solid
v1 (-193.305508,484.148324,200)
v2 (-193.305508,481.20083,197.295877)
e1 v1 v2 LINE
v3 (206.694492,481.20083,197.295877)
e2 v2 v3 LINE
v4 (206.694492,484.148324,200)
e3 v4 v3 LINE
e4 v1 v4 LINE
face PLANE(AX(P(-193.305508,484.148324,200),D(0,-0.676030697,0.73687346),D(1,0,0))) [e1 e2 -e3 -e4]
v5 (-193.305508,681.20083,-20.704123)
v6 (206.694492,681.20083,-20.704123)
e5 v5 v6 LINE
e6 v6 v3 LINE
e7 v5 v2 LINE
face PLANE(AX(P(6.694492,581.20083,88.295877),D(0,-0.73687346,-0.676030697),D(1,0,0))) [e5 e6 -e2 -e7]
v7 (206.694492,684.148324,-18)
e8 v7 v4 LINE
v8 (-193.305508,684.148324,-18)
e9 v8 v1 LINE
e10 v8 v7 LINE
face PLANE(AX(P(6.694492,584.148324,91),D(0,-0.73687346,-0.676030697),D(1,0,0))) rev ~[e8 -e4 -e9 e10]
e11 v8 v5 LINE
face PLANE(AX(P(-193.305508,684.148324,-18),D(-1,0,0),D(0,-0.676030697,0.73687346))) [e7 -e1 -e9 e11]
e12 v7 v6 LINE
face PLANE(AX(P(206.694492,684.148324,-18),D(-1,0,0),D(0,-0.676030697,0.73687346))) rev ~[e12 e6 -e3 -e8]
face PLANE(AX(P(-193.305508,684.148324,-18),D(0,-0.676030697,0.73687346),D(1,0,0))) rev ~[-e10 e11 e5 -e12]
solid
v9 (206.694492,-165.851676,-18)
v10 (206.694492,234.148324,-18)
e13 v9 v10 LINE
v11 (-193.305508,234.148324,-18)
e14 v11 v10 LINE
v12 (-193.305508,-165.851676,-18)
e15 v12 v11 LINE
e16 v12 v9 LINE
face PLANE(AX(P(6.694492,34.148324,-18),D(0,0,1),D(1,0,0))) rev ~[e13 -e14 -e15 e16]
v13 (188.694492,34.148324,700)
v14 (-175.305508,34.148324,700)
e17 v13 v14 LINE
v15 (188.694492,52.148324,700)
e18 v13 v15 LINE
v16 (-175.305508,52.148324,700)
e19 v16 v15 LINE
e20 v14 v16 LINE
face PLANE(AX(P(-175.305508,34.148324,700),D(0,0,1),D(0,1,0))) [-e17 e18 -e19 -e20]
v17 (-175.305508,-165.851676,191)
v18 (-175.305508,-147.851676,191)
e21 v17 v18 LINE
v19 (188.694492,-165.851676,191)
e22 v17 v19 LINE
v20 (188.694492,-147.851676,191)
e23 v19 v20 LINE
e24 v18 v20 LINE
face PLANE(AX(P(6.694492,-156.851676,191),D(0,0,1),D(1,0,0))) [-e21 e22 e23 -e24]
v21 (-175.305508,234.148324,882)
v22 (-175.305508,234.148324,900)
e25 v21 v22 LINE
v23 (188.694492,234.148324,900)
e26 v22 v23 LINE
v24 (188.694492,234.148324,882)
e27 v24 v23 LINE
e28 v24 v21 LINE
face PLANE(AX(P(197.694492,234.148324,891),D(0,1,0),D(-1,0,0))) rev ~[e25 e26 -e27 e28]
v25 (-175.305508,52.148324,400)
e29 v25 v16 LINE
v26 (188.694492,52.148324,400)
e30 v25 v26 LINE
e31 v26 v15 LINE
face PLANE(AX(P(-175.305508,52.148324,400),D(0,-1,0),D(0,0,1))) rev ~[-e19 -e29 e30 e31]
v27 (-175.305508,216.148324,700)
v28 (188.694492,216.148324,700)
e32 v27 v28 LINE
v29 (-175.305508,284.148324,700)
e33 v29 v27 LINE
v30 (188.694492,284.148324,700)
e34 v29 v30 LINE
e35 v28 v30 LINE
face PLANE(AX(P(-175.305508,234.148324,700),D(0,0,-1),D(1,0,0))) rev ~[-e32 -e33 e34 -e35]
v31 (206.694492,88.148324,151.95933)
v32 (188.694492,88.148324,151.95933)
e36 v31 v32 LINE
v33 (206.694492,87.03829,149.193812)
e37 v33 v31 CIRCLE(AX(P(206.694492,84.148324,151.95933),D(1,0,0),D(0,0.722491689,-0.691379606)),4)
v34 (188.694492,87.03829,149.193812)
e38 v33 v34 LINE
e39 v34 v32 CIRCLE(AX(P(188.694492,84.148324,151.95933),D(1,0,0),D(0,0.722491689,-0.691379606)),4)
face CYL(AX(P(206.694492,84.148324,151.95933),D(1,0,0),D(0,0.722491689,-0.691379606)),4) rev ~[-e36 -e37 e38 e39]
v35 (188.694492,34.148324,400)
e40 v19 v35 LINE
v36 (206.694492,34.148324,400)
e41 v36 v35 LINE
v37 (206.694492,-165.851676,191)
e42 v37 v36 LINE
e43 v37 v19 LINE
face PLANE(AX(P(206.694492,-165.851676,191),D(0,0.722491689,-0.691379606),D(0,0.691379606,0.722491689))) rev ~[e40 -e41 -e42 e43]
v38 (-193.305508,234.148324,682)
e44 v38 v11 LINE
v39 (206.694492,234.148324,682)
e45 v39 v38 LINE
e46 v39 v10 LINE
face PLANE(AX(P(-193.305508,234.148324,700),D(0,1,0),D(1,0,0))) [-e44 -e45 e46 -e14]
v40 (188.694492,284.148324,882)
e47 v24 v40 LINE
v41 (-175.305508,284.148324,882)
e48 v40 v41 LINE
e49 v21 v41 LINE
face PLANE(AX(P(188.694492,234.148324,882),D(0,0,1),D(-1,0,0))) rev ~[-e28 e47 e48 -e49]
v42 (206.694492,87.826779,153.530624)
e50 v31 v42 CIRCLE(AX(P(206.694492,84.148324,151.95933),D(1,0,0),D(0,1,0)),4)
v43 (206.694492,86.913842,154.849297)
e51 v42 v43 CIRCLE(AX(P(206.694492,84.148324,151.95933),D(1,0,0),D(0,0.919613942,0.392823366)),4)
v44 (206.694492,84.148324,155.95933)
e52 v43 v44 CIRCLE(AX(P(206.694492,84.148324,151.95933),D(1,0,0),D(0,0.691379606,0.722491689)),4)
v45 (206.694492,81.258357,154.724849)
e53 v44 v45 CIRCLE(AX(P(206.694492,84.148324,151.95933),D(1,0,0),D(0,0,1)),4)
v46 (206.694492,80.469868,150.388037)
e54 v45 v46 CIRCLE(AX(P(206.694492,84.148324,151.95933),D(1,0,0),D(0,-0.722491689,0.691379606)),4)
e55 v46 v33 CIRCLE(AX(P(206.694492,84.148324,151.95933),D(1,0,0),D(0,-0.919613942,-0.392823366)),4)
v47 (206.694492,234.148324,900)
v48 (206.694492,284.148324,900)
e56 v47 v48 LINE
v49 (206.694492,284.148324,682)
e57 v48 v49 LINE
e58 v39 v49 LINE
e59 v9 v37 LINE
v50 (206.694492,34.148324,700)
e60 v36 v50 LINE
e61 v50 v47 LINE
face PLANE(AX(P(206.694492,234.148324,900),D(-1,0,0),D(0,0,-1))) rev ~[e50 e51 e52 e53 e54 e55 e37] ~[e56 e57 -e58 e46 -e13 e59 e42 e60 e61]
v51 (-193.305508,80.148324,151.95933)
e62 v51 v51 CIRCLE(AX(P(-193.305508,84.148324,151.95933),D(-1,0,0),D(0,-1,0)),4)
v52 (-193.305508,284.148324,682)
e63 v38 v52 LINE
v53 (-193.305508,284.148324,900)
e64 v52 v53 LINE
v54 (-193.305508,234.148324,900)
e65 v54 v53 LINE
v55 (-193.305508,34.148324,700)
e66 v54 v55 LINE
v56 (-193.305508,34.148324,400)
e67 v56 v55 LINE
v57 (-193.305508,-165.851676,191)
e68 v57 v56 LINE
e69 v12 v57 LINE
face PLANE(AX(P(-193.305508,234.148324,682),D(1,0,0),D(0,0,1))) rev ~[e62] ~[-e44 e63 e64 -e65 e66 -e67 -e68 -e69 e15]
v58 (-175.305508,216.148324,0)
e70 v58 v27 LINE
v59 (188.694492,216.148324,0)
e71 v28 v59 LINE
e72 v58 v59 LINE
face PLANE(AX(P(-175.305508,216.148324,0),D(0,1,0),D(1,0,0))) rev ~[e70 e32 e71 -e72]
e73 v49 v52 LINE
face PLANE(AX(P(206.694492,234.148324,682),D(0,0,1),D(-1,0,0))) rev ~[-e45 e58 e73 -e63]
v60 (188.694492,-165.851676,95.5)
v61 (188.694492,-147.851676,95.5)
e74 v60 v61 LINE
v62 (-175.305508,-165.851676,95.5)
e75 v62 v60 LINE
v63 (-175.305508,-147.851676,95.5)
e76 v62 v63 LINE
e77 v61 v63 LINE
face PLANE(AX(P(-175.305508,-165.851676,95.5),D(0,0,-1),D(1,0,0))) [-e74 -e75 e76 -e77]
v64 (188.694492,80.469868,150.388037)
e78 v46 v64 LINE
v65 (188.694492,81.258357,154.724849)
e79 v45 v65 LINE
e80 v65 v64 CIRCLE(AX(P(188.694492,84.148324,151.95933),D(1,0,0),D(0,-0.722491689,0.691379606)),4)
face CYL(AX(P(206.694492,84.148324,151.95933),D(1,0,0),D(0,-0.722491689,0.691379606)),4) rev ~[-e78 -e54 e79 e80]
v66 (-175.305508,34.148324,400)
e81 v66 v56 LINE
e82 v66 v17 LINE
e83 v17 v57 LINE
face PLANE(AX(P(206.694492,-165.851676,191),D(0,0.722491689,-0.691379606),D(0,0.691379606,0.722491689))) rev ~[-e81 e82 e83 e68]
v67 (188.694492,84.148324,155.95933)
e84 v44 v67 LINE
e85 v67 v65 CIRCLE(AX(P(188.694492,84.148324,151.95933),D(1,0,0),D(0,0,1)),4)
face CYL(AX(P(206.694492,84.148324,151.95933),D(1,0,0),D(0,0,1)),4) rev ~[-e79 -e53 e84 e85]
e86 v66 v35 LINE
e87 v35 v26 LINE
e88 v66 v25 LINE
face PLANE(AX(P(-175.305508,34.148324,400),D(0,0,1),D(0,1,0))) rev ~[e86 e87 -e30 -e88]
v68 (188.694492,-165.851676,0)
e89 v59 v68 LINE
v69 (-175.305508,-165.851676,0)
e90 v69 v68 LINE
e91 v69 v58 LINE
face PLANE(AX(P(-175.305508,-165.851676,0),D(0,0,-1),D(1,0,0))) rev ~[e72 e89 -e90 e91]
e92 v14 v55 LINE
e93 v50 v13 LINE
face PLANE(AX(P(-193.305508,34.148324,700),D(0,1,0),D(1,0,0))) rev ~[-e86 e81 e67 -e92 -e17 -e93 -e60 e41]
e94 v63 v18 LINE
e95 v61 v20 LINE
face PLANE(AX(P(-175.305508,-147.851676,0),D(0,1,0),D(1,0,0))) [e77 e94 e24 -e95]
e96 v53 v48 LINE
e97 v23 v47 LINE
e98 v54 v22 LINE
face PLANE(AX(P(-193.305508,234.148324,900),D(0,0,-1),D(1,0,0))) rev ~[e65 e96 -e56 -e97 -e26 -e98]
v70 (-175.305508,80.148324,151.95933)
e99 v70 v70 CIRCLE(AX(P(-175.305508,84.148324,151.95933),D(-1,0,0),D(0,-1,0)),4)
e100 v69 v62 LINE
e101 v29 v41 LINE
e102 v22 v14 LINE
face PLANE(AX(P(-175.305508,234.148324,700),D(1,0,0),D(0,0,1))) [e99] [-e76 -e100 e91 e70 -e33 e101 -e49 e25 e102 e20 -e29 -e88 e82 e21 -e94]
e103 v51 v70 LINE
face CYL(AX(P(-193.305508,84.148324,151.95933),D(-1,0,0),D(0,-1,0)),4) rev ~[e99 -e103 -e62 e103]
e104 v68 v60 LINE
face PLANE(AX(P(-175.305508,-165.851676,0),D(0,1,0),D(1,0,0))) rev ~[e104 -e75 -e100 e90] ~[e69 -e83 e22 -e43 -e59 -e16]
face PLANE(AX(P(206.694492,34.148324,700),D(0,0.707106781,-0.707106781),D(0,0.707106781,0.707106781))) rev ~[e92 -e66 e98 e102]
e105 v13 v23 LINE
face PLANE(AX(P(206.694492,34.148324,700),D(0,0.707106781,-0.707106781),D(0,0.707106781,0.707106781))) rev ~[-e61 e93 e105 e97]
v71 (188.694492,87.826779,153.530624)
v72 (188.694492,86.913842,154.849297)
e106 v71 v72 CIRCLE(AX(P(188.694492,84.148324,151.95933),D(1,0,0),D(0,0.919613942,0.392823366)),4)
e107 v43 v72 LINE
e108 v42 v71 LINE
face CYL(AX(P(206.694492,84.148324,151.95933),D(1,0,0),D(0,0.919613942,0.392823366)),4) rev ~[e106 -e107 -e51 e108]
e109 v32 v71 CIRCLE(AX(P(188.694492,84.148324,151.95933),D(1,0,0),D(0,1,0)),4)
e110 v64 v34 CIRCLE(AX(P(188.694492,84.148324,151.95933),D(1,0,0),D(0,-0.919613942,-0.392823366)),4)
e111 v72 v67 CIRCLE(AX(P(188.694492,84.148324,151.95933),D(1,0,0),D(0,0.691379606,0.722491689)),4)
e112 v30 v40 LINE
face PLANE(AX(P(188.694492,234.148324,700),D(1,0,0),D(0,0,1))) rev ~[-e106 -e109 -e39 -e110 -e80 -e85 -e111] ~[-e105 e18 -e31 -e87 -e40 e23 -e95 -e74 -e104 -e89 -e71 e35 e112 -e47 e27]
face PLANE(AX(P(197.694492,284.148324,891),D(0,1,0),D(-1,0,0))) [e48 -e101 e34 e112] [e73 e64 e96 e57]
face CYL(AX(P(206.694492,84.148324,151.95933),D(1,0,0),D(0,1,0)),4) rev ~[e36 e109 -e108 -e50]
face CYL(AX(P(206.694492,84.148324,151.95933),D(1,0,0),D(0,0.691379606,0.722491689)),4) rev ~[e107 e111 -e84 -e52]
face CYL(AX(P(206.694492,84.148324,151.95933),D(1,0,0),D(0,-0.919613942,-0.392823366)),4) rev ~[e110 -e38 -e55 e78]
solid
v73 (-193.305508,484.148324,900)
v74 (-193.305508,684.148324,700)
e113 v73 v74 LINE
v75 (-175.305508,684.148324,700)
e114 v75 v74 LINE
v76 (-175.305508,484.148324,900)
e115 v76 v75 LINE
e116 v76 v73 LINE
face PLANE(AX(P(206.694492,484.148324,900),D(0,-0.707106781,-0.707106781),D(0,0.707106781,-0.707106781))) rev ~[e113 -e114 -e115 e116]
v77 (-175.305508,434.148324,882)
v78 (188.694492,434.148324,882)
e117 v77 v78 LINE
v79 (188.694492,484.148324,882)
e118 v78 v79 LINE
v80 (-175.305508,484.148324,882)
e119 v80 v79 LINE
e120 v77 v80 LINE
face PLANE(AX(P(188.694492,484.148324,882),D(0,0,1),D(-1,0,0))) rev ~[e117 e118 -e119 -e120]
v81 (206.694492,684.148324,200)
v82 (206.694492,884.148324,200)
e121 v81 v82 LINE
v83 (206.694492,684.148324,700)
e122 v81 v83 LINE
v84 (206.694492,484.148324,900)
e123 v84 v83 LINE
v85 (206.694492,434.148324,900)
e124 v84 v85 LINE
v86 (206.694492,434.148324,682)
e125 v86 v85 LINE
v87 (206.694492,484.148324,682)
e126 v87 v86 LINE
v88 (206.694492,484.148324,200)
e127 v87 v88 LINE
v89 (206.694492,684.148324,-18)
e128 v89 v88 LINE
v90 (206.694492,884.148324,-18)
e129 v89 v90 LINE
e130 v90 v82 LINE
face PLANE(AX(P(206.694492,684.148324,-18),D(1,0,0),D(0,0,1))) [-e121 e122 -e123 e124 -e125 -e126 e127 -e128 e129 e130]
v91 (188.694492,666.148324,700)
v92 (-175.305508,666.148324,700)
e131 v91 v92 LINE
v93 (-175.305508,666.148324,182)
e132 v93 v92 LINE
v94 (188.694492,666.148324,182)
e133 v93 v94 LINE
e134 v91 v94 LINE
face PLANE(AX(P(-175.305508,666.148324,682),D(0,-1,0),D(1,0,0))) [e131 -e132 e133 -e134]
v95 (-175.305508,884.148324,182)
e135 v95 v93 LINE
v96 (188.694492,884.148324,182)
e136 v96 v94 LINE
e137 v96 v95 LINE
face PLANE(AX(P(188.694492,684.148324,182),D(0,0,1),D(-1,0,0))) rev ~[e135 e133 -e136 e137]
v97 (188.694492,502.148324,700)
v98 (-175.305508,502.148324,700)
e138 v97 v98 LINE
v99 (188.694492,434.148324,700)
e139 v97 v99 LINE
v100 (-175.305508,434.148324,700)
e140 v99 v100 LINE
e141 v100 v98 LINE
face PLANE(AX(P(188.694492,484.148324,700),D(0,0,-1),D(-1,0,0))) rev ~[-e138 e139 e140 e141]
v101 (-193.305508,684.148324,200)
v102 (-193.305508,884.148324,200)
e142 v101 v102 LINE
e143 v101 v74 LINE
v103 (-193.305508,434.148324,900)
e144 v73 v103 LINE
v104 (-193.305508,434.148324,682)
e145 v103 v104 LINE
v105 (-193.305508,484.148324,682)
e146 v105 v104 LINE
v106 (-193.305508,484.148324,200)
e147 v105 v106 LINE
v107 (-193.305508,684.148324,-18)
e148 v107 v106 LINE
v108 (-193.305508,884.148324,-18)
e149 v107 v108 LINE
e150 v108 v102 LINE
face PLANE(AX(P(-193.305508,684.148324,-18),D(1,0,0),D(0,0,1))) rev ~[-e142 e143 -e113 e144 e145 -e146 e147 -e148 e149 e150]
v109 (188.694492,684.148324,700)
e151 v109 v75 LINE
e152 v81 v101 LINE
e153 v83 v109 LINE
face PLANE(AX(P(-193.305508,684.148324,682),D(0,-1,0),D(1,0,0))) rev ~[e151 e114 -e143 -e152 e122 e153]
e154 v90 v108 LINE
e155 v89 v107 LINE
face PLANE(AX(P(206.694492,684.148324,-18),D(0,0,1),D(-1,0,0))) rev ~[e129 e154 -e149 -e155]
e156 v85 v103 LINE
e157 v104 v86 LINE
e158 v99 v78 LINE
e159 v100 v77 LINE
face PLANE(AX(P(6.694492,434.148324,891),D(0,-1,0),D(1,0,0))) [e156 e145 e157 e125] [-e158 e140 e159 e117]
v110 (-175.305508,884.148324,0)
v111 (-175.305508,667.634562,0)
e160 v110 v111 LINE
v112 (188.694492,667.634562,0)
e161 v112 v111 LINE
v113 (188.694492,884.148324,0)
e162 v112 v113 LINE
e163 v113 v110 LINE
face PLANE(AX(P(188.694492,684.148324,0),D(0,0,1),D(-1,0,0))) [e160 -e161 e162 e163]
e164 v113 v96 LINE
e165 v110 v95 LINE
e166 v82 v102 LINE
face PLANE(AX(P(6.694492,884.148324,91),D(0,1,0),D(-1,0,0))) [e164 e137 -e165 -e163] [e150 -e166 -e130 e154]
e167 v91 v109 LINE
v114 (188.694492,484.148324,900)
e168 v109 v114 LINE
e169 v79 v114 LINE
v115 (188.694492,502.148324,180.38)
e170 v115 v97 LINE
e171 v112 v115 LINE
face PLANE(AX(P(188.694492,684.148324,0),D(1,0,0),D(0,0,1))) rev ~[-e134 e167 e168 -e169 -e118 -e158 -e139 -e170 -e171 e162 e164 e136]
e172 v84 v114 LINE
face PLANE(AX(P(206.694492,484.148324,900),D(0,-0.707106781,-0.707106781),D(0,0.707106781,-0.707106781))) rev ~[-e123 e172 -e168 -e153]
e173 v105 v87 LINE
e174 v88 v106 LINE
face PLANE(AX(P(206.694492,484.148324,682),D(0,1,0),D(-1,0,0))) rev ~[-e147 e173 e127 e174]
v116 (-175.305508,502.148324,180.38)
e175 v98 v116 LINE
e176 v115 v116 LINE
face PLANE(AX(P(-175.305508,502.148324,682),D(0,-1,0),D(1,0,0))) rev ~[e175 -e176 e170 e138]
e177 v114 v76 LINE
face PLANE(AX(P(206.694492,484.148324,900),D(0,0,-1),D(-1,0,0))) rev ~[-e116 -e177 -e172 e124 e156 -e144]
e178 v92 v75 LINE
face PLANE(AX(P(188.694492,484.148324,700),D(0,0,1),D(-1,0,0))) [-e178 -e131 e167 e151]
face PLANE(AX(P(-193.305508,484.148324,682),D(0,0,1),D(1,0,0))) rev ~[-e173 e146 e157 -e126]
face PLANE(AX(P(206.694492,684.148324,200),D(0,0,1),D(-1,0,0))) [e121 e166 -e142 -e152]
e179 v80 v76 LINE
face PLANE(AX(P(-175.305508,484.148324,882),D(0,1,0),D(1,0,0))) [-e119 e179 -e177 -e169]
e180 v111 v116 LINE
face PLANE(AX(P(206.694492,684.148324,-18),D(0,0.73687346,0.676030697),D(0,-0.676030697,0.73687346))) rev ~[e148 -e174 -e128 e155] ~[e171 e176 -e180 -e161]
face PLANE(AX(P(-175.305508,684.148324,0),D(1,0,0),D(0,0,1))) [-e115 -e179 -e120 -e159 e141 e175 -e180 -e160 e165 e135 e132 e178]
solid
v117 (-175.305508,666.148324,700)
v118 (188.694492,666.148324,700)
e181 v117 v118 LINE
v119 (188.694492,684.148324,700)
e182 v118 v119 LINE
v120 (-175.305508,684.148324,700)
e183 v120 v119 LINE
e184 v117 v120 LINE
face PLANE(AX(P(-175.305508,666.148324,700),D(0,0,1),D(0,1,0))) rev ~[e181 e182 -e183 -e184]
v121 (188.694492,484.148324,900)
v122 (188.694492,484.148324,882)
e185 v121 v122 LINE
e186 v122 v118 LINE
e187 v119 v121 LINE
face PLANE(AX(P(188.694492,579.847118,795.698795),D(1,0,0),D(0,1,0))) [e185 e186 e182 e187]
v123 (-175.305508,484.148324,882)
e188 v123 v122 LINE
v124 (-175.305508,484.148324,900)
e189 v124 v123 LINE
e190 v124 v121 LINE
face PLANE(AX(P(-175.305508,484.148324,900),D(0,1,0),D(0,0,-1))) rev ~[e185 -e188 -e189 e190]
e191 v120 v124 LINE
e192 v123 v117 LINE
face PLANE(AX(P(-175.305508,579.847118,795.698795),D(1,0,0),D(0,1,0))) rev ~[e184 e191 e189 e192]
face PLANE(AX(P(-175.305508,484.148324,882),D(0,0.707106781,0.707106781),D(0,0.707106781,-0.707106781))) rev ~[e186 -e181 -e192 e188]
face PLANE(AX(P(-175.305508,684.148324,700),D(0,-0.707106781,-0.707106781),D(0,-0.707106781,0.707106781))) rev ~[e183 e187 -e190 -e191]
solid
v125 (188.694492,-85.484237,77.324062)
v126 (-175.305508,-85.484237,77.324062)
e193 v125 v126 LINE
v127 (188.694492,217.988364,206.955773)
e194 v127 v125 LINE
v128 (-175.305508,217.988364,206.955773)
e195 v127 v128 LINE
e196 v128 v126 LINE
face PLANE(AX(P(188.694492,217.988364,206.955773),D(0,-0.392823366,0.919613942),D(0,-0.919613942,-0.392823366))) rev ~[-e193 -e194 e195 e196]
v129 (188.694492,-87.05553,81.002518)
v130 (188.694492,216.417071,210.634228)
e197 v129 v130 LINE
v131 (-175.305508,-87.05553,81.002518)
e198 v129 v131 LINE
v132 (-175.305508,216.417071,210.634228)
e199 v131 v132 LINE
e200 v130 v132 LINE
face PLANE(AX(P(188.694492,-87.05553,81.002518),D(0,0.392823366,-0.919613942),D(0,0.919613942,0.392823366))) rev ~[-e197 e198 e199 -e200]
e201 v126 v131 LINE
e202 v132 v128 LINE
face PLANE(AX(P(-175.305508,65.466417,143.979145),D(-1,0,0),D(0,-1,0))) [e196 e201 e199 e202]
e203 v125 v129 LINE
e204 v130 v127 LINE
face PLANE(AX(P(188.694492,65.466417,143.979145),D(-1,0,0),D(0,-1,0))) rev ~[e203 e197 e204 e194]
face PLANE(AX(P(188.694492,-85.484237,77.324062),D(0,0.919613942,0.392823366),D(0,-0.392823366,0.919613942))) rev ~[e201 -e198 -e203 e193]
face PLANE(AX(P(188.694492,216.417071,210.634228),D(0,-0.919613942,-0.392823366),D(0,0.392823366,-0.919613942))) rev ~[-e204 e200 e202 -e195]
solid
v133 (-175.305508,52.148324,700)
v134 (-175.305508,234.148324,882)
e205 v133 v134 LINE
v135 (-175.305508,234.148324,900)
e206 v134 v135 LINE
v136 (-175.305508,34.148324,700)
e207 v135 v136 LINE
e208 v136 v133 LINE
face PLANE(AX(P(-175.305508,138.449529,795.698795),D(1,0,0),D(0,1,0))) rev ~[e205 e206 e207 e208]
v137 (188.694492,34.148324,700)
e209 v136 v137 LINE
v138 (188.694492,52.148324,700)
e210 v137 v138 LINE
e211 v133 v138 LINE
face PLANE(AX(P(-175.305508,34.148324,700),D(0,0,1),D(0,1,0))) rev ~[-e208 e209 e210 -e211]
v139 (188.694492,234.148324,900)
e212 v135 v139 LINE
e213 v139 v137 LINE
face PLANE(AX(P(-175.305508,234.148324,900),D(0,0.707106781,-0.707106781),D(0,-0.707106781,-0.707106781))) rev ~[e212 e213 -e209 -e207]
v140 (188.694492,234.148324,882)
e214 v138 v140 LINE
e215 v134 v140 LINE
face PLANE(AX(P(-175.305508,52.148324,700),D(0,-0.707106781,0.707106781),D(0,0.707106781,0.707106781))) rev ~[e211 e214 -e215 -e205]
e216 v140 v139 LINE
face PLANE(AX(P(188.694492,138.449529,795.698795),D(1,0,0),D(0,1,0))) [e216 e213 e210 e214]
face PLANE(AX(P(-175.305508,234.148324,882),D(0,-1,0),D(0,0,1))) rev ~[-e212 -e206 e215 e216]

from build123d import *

# Parameters (mm, degrees)
F0_W      = 400
F0_H      = 400
F1_DEPTH  = 18
F3_DEPTH  = 400
F2_W      = 364
F2_H      = 18
F4_DEPTH  = 700
F6_DEPTH  = 191
F7_W      = 364
F7_H      = 95.5
F8_DEPTH  = 25
F9_DEPTH  = 400.001
F10_DEPTH = 300
F11_DEPTH = 300
F12_W     = 18
F12_H     = 300
F13_DEPTH = 364
F16_DEPTH = 364
F17_DEPTH = 18
F18_R     = 4
F19_DEPTH = 18
F20_W     = 18
F20_H     = 200
F21_DEPTH = 200
F23_DEPTH = 400.001
F24_W     = 18
F24_H     = 18
F24_W_2   = 364
F24_H_2   = 182
F25_DEPTH = 50
F27_W     = 400
F27_H     = 218
F27_W_2   = 364
F27_H_2   = 182
F28_DEPTH = 200
F29_W     = 364
F29_H     = 18
F30_DEPTH = 700
F31_DEPTH = 25
F33_DEPTH = 400.001
F35_DEPTH = 364
F36_W     = 18
F36_H     = 182
F37_DEPTH = 50
F38_W     = 364
F38_H     = 18
F39_DEPTH = 25
F41_DEPTH = 364
F42_W     = 364
F42_H     = 182
F43_DEPTH = 25
F42_W_2   = 400
F42_H_2   = 218
F44_DEPTH = 200
F46_DEPTH = 400.001
F47_W     = 400
F47_H     = 295.8445537778
F48_DEPTH = 4


with BuildPart() as f1:
    # F0 (on Top) → F1 (new body)
    with BuildSketch(Plane.XY):
        with Locations((6.6944919527, 34.1483235822)):
            Rectangle(F0_W, F0_H)
    extrude(amount=-F1_DEPTH)

    # F2 (on face) → F3 (join)
    with BuildSketch(Plane.XY):
        Polygon((-175.3055080473, 216.1483235822), (-175.3055080473, 234.1483235822), (-193.3055080473, 234.1483235822), (-193.3055080473, -165.8516764178), (-175.3055080473, -165.8516764178), (-175.3055080473, -147.8516764178), align=None)
        Polygon((206.6944919527, -165.8516764178), (206.6944919527, 234.1483235822), (188.6944919527, 234.1483235822), (188.6944919527, 216.1483235822), (188.6944919527, -147.8516764178), (188.6944919527, -165.8516764178), align=None)
    extrude(amount=F3_DEPTH)

    # F2 (on face) → F4 (join)
    with BuildSketch(Plane.XY):
        with Locations((6.6944919527, 225.1483235822)):
            Rectangle(F2_W, F2_H)
    extrude(amount=F4_DEPTH)

    # F2 (on face) → F6 (join)
    with BuildSketch(Plane.XY):
        with Locations((6.6944919527, -156.8516764178)):
            Rectangle(F2_W, F2_H)
    extrude(amount=F6_DEPTH)

    # F7 (on face) → F8 (cut)
    with BuildSketch(Plane.XZ.offset(165.8516764178)):
        with Locations((6.6944919527, 47.75)):
            Rectangle(F7_W, F7_H)
    extrude(amount=-F8_DEPTH, mode=Mode.SUBTRACT)

    # F5 (on face) → F9 (cut, through all)
    with BuildSketch(Plane.YZ.offset(206.6944919527)):
        Polygon((-165.8516764178, 400), (-165.8516764178, 191), (34.1483235822, 400), align=None)
    extrude(amount=-F9_DEPTH, mode=Mode.SUBTRACT)

    # F10 (add): a face of the model
    f10_faces = [f1.faces().sort_by_distance(p)[0] for p in [
        (-184.3055080473, 134.1483235822, 400),
    ]]
    extrude(f10_faces, amount=F10_DEPTH)

    # F11 (add): a face of the model
    f11_faces = [f1.faces().sort_by_distance(p)[0] for p in [
        (197.6944919527, 134.1483235822, 400),
    ]]
    extrude(f11_faces, amount=F11_DEPTH)

    # F12 (on face) → F13 (join, through all)
    with BuildSketch(Plane.YZ.offset(-175.3055080473)):
        with Locations((43.1483235822, 550)):
            Rectangle(F12_W, F12_H)
    extrude(amount=F13_DEPTH)

    # F14 (on face) → F17 (cut)
    with BuildSketch(Plane.YZ.offset(206.6944919527)):
        with BuildLine():
            Line((87.0382903364, 149.1938117185), (84.1483235822, 151.9593301435))
            Line((84.1483235822, 151.9593301435), (80.4698678124, 150.3880366796))
            ThreePointArc((80.4698678124, 150.3880366796), (83.4328013629, 148.0238469517), (87.0382903364, 149.1938117185))
        make_face()
        with BuildLine():
            Line((84.1483235822, 151.9593301435), (81.258356828, 154.7248485686))
            ThreePointArc((81.258356828, 154.7248485686), (80.2128403903, 152.6748523629), (80.4698678124, 150.3880366796))
            Line((80.4698678124, 150.3880366796), (84.1483235822, 151.9593301435))
        make_face()
        with BuildLine():
            ThreePointArc((84.1483235822, 155.9593301435), (82.5770301183, 155.6377859133), (81.258356828, 154.7248485686))
            Line((81.258356828, 154.7248485686), (84.1483235822, 151.9593301435))
            Line((84.1483235822, 151.9593301435), (84.1483235822, 155.9593301435))
        make_face()
        with BuildLine():
            Line((84.1483235822, 155.9593301435), (84.1483235822, 151.9593301435))
            Line((84.1483235822, 151.9593301435), (86.9138420073, 154.8492968978))
            ThreePointArc((86.9138420073, 154.8492968978), (85.6383123377, 155.6714634262), (84.1483235822, 155.9593301435))
        make_face()
        with BuildLine():
            Line((86.9138420073, 154.8492968978), (84.1483235822, 151.9593301435))
            Line((84.1483235822, 151.9593301435), (87.826779352, 153.5306236075))
            ThreePointArc((87.826779352, 153.5306236075), (87.4370810478, 154.2361863824), (86.9138420073, 154.8492968978))
        make_face()
        with BuildLine():
            Line((87.826779352, 153.5306236075), (84.1483235822, 151.9593301435))
            Line((84.1483235822, 151.9593301435), (88.1483235822, 151.9593301435))
            ThreePointArc((88.1483235822, 151.9593301435), (88.0671131325, 152.7612581082), (87.826779352, 153.5306236075))
        make_face()
        with BuildLine():
            Line((88.1483235822, 151.9593301435), (84.1483235822, 151.9593301435))
            Line((84.1483235822, 151.9593301435), (87.0382903364, 149.1938117185))
            ThreePointArc((87.0382903364, 149.1938117185), (87.8604568649, 150.469341388), (88.1483235822, 151.9593301435))
        make_face()
    extrude(amount=-F17_DEPTH, mode=Mode.SUBTRACT)

    # F18 (on face) → F19 (cut)
    with BuildSketch(Plane(origin=(-193.3055080473, 0, 0), x_dir=(0, -1, 0), z_dir=(-1, 0, 0))):
        with Locations((-84.1483235822, 151.9593301435)):
            Circle(F18_R)
    extrude(amount=-F19_DEPTH, mode=Mode.SUBTRACT)

    # F20 (on face) → F21 (join)
    with BuildSketch(Plane.XY.offset(700)):
        with Locations((-184.3055080473, 134.1483235822)):
            Rectangle(F20_W, F20_H)
        with Locations((197.6944919527, 134.1483235822)):
            Rectangle(F20_W, F20_H)
    extrude(amount=F21_DEPTH)

    # F22 (on face) → F23 (cut, through all)
    with BuildSketch(Plane.YZ.offset(206.6944919527)):
        Polygon((34.1483235822, 900), (34.1483235822, 700), (234.1483235822, 900), align=None)
    extrude(amount=-F23_DEPTH, mode=Mode.SUBTRACT)

    # F24 (on face) → F25 (join)
    with BuildSketch(Plane(origin=(0, 234.1483235822, 0), x_dir=(-1, 0, 0), z_dir=(0, 1, 0))):
        with Locations((-197.6944919527, 891)):
            Rectangle(F24_W, F24_H)
        with Locations((-6.6944919527, 891)):
            Rectangle(F24_W_2, F24_H)
        with Locations((-197.6944919527, 791)):
            Rectangle(F24_W, F24_H_2)
        with Locations((184.3055080473, 891)):
            Rectangle(F24_W, F24_H)
        Polygon((-188.6944919527, 700), (-206.6944919527, 700), (-206.6944919527, 682), (193.3055080473, 682), (193.3055080473, 700), (175.3055080473, 700), align=None)
        with Locations((184.3055080473, 791)):
            Rectangle(F24_W, F24_H_2)
    extrude(amount=F25_DEPTH)


with BuildPart() as f16:
    # F15 (on face) → F16 (new body, through all)
    with BuildSketch(Plane(origin=(188.6944919527, 0, 0), x_dir=(0, -1, 0), z_dir=(-1, 0, 0))):
        Polygon((87.0555304103, 81.0025175254), (-216.417070596, 210.6342283005), (-217.9883640599, 206.9557725307), (85.4842369464, 77.3240617557), align=None)
    extrude(amount=F16_DEPTH)


with BuildPart() as f28:
    # F27 (on offset) → F28 (new body)
    with BuildSketch(Plane(origin=(0, 484.1483235822, 0), x_dir=(-1, 0, 0), z_dir=(0, 1, 0))):
        with Locations((-6.6944919527, 791)):
            Rectangle(F27_W, F27_H)
        with Locations((-6.6944919527, 791)):
            Rectangle(F27_W_2, F27_H_2, mode=Mode.SUBTRACT)
    extrude(amount=F28_DEPTH)

    # F29 (on face) → F30 (join)
    with BuildSketch(Plane(origin=(0, 0, 682), x_dir=(1, 0, 0), z_dir=(0, 0, -1))):
        Polygon((206.6944919527, -684.1483235822), (206.6944919527, -484.1483235822), (188.6944919527, -484.1483235822), (188.6944919527, -502.1483235822), (188.6944919527, -666.1483235822), (188.6944919527, -684.1483235822), align=None)
        with Locations((6.6944919527, -493.1483235822)):
            Rectangle(F29_W, F29_H)
        Polygon((-175.3055080473, -502.1483235822), (-175.3055080473, -484.1483235822), (-193.3055080473, -484.1483235822), (-193.3055080473, -684.1483235822), (-175.3055080473, -684.1483235822), (-175.3055080473, -666.1483235822), align=None)
        with Locations((6.6944919527, -675.1483235822)):
            Rectangle(F29_W, F29_H)
    extrude(amount=F30_DEPTH)

    # F31 (cut): a face of the model
    f31_faces = [f28.faces().sort_by_distance(p)[0] for p in [
        (6.6944919527, 584.1483235822, 682),
    ]]
    extrude(f31_faces, amount=-F31_DEPTH, mode=Mode.SUBTRACT)

    # F32 (on face) → F33 (cut, through all)
    with BuildSketch(Plane.YZ.offset(206.6944919527)):
        Polygon((484.1483235822, 900), (684.1483235822, 700), (684.1483235822, 900), align=None)
    extrude(amount=-F33_DEPTH, mode=Mode.SUBTRACT)

    # F36 (on face) → F37 (join)
    with BuildSketch(Plane.XZ.offset(-484.1483235822)):
        Polygon((206.6944919527, 900), (-193.3055080473, 900), (-193.3055080473, 882), (-175.3055080473, 882), (188.6944919527, 882), (206.6944919527, 882), align=None)
        with Locations((-184.3055080473, 791)):
            Rectangle(F36_W, F36_H)
        with Locations((197.6944919527, 791)):
            Rectangle(F36_W, F36_H)
        Polygon((-175.3055080473, 700), (-193.3055080473, 700), (-193.3055080473, 682), (206.6944919527, 682), (206.6944919527, 700), (188.6944919527, 700), align=None)
    extrude(amount=F37_DEPTH)

    # F38 (on face) → F39 (cut)
    with BuildSketch(Plane(origin=(0, 0, 882), x_dir=(1, 0, 0), z_dir=(0, 0, -1))):
        with Locations((6.6944919527, -493.1483235822)):
            Rectangle(F38_W, F38_H)
    extrude(amount=-F39_DEPTH, mode=Mode.SUBTRACT)

    # F42 (on face) → F43 (cut)
    with BuildSketch(Plane(origin=(0, 684.1483235822, 0), x_dir=(-1, 0, 0), z_dir=(0, 1, 0))):
        with Locations((-6.6944919527, 91)):
            Rectangle(F42_W, F42_H)
    extrude(amount=-F43_DEPTH, mode=Mode.SUBTRACT)

    # F42 (on face) → F44 (join)
    with BuildSketch(Plane(origin=(0, 684.1483235822, 0), x_dir=(-1, 0, 0), z_dir=(0, 1, 0))):
        with Locations((-6.6944919527, 91)):
            Rectangle(F42_W_2, F42_H_2)
        with Locations((-6.6944919527, 91)):
            Rectangle(F42_W, F42_H, mode=Mode.SUBTRACT)
    extrude(amount=F44_DEPTH)

    # F45 (on face) → F46 (cut, through all)
    with BuildSketch(Plane.YZ.offset(206.6944919527)):
        Polygon((684.1483235822, -18), (484.1483235822, 200), (484.1483235822, -18), align=None)
    extrude(amount=-F46_DEPTH, mode=Mode.SUBTRACT)


with BuildPart() as f35:
    # F34 (on face) → F35 (new body, through all)
    with BuildSketch(Plane.YZ.offset(-175.3055080473)):
        Polygon((234.1483235822, 900), (34.1483235822, 700), (52.1483235822, 700), (234.1483235822, 882), align=None)
    extrude(amount=F35_DEPTH)


with BuildPart() as f41:
    # F40 (on face) → F41 (new body, through all)
    with BuildSketch(Plane.YZ.offset(-175.3055080473)):
        Polygon((684.1483235822, 700), (484.1483235822, 900), (484.1483235822, 882), (666.1483235822, 700), align=None)
    extrude(amount=F41_DEPTH)


with BuildPart() as f48:
    # F47 (on face) → F48 (new body)
    with BuildSketch(Plane(origin=(0, 362.513881106, 332.5815422991), x_dir=(1, 0, 0), z_dir=(0, -0.7368734601, -0.6760306974))):
        with Locations((6.6944919527, -327.8467136809)):
            Rectangle(F47_W, F47_H)
    extrude(amount=F48_DEPTH)


solid = Compound([f1.part, f16.part, f28.part, f35.part, f41.part, f48.part])
